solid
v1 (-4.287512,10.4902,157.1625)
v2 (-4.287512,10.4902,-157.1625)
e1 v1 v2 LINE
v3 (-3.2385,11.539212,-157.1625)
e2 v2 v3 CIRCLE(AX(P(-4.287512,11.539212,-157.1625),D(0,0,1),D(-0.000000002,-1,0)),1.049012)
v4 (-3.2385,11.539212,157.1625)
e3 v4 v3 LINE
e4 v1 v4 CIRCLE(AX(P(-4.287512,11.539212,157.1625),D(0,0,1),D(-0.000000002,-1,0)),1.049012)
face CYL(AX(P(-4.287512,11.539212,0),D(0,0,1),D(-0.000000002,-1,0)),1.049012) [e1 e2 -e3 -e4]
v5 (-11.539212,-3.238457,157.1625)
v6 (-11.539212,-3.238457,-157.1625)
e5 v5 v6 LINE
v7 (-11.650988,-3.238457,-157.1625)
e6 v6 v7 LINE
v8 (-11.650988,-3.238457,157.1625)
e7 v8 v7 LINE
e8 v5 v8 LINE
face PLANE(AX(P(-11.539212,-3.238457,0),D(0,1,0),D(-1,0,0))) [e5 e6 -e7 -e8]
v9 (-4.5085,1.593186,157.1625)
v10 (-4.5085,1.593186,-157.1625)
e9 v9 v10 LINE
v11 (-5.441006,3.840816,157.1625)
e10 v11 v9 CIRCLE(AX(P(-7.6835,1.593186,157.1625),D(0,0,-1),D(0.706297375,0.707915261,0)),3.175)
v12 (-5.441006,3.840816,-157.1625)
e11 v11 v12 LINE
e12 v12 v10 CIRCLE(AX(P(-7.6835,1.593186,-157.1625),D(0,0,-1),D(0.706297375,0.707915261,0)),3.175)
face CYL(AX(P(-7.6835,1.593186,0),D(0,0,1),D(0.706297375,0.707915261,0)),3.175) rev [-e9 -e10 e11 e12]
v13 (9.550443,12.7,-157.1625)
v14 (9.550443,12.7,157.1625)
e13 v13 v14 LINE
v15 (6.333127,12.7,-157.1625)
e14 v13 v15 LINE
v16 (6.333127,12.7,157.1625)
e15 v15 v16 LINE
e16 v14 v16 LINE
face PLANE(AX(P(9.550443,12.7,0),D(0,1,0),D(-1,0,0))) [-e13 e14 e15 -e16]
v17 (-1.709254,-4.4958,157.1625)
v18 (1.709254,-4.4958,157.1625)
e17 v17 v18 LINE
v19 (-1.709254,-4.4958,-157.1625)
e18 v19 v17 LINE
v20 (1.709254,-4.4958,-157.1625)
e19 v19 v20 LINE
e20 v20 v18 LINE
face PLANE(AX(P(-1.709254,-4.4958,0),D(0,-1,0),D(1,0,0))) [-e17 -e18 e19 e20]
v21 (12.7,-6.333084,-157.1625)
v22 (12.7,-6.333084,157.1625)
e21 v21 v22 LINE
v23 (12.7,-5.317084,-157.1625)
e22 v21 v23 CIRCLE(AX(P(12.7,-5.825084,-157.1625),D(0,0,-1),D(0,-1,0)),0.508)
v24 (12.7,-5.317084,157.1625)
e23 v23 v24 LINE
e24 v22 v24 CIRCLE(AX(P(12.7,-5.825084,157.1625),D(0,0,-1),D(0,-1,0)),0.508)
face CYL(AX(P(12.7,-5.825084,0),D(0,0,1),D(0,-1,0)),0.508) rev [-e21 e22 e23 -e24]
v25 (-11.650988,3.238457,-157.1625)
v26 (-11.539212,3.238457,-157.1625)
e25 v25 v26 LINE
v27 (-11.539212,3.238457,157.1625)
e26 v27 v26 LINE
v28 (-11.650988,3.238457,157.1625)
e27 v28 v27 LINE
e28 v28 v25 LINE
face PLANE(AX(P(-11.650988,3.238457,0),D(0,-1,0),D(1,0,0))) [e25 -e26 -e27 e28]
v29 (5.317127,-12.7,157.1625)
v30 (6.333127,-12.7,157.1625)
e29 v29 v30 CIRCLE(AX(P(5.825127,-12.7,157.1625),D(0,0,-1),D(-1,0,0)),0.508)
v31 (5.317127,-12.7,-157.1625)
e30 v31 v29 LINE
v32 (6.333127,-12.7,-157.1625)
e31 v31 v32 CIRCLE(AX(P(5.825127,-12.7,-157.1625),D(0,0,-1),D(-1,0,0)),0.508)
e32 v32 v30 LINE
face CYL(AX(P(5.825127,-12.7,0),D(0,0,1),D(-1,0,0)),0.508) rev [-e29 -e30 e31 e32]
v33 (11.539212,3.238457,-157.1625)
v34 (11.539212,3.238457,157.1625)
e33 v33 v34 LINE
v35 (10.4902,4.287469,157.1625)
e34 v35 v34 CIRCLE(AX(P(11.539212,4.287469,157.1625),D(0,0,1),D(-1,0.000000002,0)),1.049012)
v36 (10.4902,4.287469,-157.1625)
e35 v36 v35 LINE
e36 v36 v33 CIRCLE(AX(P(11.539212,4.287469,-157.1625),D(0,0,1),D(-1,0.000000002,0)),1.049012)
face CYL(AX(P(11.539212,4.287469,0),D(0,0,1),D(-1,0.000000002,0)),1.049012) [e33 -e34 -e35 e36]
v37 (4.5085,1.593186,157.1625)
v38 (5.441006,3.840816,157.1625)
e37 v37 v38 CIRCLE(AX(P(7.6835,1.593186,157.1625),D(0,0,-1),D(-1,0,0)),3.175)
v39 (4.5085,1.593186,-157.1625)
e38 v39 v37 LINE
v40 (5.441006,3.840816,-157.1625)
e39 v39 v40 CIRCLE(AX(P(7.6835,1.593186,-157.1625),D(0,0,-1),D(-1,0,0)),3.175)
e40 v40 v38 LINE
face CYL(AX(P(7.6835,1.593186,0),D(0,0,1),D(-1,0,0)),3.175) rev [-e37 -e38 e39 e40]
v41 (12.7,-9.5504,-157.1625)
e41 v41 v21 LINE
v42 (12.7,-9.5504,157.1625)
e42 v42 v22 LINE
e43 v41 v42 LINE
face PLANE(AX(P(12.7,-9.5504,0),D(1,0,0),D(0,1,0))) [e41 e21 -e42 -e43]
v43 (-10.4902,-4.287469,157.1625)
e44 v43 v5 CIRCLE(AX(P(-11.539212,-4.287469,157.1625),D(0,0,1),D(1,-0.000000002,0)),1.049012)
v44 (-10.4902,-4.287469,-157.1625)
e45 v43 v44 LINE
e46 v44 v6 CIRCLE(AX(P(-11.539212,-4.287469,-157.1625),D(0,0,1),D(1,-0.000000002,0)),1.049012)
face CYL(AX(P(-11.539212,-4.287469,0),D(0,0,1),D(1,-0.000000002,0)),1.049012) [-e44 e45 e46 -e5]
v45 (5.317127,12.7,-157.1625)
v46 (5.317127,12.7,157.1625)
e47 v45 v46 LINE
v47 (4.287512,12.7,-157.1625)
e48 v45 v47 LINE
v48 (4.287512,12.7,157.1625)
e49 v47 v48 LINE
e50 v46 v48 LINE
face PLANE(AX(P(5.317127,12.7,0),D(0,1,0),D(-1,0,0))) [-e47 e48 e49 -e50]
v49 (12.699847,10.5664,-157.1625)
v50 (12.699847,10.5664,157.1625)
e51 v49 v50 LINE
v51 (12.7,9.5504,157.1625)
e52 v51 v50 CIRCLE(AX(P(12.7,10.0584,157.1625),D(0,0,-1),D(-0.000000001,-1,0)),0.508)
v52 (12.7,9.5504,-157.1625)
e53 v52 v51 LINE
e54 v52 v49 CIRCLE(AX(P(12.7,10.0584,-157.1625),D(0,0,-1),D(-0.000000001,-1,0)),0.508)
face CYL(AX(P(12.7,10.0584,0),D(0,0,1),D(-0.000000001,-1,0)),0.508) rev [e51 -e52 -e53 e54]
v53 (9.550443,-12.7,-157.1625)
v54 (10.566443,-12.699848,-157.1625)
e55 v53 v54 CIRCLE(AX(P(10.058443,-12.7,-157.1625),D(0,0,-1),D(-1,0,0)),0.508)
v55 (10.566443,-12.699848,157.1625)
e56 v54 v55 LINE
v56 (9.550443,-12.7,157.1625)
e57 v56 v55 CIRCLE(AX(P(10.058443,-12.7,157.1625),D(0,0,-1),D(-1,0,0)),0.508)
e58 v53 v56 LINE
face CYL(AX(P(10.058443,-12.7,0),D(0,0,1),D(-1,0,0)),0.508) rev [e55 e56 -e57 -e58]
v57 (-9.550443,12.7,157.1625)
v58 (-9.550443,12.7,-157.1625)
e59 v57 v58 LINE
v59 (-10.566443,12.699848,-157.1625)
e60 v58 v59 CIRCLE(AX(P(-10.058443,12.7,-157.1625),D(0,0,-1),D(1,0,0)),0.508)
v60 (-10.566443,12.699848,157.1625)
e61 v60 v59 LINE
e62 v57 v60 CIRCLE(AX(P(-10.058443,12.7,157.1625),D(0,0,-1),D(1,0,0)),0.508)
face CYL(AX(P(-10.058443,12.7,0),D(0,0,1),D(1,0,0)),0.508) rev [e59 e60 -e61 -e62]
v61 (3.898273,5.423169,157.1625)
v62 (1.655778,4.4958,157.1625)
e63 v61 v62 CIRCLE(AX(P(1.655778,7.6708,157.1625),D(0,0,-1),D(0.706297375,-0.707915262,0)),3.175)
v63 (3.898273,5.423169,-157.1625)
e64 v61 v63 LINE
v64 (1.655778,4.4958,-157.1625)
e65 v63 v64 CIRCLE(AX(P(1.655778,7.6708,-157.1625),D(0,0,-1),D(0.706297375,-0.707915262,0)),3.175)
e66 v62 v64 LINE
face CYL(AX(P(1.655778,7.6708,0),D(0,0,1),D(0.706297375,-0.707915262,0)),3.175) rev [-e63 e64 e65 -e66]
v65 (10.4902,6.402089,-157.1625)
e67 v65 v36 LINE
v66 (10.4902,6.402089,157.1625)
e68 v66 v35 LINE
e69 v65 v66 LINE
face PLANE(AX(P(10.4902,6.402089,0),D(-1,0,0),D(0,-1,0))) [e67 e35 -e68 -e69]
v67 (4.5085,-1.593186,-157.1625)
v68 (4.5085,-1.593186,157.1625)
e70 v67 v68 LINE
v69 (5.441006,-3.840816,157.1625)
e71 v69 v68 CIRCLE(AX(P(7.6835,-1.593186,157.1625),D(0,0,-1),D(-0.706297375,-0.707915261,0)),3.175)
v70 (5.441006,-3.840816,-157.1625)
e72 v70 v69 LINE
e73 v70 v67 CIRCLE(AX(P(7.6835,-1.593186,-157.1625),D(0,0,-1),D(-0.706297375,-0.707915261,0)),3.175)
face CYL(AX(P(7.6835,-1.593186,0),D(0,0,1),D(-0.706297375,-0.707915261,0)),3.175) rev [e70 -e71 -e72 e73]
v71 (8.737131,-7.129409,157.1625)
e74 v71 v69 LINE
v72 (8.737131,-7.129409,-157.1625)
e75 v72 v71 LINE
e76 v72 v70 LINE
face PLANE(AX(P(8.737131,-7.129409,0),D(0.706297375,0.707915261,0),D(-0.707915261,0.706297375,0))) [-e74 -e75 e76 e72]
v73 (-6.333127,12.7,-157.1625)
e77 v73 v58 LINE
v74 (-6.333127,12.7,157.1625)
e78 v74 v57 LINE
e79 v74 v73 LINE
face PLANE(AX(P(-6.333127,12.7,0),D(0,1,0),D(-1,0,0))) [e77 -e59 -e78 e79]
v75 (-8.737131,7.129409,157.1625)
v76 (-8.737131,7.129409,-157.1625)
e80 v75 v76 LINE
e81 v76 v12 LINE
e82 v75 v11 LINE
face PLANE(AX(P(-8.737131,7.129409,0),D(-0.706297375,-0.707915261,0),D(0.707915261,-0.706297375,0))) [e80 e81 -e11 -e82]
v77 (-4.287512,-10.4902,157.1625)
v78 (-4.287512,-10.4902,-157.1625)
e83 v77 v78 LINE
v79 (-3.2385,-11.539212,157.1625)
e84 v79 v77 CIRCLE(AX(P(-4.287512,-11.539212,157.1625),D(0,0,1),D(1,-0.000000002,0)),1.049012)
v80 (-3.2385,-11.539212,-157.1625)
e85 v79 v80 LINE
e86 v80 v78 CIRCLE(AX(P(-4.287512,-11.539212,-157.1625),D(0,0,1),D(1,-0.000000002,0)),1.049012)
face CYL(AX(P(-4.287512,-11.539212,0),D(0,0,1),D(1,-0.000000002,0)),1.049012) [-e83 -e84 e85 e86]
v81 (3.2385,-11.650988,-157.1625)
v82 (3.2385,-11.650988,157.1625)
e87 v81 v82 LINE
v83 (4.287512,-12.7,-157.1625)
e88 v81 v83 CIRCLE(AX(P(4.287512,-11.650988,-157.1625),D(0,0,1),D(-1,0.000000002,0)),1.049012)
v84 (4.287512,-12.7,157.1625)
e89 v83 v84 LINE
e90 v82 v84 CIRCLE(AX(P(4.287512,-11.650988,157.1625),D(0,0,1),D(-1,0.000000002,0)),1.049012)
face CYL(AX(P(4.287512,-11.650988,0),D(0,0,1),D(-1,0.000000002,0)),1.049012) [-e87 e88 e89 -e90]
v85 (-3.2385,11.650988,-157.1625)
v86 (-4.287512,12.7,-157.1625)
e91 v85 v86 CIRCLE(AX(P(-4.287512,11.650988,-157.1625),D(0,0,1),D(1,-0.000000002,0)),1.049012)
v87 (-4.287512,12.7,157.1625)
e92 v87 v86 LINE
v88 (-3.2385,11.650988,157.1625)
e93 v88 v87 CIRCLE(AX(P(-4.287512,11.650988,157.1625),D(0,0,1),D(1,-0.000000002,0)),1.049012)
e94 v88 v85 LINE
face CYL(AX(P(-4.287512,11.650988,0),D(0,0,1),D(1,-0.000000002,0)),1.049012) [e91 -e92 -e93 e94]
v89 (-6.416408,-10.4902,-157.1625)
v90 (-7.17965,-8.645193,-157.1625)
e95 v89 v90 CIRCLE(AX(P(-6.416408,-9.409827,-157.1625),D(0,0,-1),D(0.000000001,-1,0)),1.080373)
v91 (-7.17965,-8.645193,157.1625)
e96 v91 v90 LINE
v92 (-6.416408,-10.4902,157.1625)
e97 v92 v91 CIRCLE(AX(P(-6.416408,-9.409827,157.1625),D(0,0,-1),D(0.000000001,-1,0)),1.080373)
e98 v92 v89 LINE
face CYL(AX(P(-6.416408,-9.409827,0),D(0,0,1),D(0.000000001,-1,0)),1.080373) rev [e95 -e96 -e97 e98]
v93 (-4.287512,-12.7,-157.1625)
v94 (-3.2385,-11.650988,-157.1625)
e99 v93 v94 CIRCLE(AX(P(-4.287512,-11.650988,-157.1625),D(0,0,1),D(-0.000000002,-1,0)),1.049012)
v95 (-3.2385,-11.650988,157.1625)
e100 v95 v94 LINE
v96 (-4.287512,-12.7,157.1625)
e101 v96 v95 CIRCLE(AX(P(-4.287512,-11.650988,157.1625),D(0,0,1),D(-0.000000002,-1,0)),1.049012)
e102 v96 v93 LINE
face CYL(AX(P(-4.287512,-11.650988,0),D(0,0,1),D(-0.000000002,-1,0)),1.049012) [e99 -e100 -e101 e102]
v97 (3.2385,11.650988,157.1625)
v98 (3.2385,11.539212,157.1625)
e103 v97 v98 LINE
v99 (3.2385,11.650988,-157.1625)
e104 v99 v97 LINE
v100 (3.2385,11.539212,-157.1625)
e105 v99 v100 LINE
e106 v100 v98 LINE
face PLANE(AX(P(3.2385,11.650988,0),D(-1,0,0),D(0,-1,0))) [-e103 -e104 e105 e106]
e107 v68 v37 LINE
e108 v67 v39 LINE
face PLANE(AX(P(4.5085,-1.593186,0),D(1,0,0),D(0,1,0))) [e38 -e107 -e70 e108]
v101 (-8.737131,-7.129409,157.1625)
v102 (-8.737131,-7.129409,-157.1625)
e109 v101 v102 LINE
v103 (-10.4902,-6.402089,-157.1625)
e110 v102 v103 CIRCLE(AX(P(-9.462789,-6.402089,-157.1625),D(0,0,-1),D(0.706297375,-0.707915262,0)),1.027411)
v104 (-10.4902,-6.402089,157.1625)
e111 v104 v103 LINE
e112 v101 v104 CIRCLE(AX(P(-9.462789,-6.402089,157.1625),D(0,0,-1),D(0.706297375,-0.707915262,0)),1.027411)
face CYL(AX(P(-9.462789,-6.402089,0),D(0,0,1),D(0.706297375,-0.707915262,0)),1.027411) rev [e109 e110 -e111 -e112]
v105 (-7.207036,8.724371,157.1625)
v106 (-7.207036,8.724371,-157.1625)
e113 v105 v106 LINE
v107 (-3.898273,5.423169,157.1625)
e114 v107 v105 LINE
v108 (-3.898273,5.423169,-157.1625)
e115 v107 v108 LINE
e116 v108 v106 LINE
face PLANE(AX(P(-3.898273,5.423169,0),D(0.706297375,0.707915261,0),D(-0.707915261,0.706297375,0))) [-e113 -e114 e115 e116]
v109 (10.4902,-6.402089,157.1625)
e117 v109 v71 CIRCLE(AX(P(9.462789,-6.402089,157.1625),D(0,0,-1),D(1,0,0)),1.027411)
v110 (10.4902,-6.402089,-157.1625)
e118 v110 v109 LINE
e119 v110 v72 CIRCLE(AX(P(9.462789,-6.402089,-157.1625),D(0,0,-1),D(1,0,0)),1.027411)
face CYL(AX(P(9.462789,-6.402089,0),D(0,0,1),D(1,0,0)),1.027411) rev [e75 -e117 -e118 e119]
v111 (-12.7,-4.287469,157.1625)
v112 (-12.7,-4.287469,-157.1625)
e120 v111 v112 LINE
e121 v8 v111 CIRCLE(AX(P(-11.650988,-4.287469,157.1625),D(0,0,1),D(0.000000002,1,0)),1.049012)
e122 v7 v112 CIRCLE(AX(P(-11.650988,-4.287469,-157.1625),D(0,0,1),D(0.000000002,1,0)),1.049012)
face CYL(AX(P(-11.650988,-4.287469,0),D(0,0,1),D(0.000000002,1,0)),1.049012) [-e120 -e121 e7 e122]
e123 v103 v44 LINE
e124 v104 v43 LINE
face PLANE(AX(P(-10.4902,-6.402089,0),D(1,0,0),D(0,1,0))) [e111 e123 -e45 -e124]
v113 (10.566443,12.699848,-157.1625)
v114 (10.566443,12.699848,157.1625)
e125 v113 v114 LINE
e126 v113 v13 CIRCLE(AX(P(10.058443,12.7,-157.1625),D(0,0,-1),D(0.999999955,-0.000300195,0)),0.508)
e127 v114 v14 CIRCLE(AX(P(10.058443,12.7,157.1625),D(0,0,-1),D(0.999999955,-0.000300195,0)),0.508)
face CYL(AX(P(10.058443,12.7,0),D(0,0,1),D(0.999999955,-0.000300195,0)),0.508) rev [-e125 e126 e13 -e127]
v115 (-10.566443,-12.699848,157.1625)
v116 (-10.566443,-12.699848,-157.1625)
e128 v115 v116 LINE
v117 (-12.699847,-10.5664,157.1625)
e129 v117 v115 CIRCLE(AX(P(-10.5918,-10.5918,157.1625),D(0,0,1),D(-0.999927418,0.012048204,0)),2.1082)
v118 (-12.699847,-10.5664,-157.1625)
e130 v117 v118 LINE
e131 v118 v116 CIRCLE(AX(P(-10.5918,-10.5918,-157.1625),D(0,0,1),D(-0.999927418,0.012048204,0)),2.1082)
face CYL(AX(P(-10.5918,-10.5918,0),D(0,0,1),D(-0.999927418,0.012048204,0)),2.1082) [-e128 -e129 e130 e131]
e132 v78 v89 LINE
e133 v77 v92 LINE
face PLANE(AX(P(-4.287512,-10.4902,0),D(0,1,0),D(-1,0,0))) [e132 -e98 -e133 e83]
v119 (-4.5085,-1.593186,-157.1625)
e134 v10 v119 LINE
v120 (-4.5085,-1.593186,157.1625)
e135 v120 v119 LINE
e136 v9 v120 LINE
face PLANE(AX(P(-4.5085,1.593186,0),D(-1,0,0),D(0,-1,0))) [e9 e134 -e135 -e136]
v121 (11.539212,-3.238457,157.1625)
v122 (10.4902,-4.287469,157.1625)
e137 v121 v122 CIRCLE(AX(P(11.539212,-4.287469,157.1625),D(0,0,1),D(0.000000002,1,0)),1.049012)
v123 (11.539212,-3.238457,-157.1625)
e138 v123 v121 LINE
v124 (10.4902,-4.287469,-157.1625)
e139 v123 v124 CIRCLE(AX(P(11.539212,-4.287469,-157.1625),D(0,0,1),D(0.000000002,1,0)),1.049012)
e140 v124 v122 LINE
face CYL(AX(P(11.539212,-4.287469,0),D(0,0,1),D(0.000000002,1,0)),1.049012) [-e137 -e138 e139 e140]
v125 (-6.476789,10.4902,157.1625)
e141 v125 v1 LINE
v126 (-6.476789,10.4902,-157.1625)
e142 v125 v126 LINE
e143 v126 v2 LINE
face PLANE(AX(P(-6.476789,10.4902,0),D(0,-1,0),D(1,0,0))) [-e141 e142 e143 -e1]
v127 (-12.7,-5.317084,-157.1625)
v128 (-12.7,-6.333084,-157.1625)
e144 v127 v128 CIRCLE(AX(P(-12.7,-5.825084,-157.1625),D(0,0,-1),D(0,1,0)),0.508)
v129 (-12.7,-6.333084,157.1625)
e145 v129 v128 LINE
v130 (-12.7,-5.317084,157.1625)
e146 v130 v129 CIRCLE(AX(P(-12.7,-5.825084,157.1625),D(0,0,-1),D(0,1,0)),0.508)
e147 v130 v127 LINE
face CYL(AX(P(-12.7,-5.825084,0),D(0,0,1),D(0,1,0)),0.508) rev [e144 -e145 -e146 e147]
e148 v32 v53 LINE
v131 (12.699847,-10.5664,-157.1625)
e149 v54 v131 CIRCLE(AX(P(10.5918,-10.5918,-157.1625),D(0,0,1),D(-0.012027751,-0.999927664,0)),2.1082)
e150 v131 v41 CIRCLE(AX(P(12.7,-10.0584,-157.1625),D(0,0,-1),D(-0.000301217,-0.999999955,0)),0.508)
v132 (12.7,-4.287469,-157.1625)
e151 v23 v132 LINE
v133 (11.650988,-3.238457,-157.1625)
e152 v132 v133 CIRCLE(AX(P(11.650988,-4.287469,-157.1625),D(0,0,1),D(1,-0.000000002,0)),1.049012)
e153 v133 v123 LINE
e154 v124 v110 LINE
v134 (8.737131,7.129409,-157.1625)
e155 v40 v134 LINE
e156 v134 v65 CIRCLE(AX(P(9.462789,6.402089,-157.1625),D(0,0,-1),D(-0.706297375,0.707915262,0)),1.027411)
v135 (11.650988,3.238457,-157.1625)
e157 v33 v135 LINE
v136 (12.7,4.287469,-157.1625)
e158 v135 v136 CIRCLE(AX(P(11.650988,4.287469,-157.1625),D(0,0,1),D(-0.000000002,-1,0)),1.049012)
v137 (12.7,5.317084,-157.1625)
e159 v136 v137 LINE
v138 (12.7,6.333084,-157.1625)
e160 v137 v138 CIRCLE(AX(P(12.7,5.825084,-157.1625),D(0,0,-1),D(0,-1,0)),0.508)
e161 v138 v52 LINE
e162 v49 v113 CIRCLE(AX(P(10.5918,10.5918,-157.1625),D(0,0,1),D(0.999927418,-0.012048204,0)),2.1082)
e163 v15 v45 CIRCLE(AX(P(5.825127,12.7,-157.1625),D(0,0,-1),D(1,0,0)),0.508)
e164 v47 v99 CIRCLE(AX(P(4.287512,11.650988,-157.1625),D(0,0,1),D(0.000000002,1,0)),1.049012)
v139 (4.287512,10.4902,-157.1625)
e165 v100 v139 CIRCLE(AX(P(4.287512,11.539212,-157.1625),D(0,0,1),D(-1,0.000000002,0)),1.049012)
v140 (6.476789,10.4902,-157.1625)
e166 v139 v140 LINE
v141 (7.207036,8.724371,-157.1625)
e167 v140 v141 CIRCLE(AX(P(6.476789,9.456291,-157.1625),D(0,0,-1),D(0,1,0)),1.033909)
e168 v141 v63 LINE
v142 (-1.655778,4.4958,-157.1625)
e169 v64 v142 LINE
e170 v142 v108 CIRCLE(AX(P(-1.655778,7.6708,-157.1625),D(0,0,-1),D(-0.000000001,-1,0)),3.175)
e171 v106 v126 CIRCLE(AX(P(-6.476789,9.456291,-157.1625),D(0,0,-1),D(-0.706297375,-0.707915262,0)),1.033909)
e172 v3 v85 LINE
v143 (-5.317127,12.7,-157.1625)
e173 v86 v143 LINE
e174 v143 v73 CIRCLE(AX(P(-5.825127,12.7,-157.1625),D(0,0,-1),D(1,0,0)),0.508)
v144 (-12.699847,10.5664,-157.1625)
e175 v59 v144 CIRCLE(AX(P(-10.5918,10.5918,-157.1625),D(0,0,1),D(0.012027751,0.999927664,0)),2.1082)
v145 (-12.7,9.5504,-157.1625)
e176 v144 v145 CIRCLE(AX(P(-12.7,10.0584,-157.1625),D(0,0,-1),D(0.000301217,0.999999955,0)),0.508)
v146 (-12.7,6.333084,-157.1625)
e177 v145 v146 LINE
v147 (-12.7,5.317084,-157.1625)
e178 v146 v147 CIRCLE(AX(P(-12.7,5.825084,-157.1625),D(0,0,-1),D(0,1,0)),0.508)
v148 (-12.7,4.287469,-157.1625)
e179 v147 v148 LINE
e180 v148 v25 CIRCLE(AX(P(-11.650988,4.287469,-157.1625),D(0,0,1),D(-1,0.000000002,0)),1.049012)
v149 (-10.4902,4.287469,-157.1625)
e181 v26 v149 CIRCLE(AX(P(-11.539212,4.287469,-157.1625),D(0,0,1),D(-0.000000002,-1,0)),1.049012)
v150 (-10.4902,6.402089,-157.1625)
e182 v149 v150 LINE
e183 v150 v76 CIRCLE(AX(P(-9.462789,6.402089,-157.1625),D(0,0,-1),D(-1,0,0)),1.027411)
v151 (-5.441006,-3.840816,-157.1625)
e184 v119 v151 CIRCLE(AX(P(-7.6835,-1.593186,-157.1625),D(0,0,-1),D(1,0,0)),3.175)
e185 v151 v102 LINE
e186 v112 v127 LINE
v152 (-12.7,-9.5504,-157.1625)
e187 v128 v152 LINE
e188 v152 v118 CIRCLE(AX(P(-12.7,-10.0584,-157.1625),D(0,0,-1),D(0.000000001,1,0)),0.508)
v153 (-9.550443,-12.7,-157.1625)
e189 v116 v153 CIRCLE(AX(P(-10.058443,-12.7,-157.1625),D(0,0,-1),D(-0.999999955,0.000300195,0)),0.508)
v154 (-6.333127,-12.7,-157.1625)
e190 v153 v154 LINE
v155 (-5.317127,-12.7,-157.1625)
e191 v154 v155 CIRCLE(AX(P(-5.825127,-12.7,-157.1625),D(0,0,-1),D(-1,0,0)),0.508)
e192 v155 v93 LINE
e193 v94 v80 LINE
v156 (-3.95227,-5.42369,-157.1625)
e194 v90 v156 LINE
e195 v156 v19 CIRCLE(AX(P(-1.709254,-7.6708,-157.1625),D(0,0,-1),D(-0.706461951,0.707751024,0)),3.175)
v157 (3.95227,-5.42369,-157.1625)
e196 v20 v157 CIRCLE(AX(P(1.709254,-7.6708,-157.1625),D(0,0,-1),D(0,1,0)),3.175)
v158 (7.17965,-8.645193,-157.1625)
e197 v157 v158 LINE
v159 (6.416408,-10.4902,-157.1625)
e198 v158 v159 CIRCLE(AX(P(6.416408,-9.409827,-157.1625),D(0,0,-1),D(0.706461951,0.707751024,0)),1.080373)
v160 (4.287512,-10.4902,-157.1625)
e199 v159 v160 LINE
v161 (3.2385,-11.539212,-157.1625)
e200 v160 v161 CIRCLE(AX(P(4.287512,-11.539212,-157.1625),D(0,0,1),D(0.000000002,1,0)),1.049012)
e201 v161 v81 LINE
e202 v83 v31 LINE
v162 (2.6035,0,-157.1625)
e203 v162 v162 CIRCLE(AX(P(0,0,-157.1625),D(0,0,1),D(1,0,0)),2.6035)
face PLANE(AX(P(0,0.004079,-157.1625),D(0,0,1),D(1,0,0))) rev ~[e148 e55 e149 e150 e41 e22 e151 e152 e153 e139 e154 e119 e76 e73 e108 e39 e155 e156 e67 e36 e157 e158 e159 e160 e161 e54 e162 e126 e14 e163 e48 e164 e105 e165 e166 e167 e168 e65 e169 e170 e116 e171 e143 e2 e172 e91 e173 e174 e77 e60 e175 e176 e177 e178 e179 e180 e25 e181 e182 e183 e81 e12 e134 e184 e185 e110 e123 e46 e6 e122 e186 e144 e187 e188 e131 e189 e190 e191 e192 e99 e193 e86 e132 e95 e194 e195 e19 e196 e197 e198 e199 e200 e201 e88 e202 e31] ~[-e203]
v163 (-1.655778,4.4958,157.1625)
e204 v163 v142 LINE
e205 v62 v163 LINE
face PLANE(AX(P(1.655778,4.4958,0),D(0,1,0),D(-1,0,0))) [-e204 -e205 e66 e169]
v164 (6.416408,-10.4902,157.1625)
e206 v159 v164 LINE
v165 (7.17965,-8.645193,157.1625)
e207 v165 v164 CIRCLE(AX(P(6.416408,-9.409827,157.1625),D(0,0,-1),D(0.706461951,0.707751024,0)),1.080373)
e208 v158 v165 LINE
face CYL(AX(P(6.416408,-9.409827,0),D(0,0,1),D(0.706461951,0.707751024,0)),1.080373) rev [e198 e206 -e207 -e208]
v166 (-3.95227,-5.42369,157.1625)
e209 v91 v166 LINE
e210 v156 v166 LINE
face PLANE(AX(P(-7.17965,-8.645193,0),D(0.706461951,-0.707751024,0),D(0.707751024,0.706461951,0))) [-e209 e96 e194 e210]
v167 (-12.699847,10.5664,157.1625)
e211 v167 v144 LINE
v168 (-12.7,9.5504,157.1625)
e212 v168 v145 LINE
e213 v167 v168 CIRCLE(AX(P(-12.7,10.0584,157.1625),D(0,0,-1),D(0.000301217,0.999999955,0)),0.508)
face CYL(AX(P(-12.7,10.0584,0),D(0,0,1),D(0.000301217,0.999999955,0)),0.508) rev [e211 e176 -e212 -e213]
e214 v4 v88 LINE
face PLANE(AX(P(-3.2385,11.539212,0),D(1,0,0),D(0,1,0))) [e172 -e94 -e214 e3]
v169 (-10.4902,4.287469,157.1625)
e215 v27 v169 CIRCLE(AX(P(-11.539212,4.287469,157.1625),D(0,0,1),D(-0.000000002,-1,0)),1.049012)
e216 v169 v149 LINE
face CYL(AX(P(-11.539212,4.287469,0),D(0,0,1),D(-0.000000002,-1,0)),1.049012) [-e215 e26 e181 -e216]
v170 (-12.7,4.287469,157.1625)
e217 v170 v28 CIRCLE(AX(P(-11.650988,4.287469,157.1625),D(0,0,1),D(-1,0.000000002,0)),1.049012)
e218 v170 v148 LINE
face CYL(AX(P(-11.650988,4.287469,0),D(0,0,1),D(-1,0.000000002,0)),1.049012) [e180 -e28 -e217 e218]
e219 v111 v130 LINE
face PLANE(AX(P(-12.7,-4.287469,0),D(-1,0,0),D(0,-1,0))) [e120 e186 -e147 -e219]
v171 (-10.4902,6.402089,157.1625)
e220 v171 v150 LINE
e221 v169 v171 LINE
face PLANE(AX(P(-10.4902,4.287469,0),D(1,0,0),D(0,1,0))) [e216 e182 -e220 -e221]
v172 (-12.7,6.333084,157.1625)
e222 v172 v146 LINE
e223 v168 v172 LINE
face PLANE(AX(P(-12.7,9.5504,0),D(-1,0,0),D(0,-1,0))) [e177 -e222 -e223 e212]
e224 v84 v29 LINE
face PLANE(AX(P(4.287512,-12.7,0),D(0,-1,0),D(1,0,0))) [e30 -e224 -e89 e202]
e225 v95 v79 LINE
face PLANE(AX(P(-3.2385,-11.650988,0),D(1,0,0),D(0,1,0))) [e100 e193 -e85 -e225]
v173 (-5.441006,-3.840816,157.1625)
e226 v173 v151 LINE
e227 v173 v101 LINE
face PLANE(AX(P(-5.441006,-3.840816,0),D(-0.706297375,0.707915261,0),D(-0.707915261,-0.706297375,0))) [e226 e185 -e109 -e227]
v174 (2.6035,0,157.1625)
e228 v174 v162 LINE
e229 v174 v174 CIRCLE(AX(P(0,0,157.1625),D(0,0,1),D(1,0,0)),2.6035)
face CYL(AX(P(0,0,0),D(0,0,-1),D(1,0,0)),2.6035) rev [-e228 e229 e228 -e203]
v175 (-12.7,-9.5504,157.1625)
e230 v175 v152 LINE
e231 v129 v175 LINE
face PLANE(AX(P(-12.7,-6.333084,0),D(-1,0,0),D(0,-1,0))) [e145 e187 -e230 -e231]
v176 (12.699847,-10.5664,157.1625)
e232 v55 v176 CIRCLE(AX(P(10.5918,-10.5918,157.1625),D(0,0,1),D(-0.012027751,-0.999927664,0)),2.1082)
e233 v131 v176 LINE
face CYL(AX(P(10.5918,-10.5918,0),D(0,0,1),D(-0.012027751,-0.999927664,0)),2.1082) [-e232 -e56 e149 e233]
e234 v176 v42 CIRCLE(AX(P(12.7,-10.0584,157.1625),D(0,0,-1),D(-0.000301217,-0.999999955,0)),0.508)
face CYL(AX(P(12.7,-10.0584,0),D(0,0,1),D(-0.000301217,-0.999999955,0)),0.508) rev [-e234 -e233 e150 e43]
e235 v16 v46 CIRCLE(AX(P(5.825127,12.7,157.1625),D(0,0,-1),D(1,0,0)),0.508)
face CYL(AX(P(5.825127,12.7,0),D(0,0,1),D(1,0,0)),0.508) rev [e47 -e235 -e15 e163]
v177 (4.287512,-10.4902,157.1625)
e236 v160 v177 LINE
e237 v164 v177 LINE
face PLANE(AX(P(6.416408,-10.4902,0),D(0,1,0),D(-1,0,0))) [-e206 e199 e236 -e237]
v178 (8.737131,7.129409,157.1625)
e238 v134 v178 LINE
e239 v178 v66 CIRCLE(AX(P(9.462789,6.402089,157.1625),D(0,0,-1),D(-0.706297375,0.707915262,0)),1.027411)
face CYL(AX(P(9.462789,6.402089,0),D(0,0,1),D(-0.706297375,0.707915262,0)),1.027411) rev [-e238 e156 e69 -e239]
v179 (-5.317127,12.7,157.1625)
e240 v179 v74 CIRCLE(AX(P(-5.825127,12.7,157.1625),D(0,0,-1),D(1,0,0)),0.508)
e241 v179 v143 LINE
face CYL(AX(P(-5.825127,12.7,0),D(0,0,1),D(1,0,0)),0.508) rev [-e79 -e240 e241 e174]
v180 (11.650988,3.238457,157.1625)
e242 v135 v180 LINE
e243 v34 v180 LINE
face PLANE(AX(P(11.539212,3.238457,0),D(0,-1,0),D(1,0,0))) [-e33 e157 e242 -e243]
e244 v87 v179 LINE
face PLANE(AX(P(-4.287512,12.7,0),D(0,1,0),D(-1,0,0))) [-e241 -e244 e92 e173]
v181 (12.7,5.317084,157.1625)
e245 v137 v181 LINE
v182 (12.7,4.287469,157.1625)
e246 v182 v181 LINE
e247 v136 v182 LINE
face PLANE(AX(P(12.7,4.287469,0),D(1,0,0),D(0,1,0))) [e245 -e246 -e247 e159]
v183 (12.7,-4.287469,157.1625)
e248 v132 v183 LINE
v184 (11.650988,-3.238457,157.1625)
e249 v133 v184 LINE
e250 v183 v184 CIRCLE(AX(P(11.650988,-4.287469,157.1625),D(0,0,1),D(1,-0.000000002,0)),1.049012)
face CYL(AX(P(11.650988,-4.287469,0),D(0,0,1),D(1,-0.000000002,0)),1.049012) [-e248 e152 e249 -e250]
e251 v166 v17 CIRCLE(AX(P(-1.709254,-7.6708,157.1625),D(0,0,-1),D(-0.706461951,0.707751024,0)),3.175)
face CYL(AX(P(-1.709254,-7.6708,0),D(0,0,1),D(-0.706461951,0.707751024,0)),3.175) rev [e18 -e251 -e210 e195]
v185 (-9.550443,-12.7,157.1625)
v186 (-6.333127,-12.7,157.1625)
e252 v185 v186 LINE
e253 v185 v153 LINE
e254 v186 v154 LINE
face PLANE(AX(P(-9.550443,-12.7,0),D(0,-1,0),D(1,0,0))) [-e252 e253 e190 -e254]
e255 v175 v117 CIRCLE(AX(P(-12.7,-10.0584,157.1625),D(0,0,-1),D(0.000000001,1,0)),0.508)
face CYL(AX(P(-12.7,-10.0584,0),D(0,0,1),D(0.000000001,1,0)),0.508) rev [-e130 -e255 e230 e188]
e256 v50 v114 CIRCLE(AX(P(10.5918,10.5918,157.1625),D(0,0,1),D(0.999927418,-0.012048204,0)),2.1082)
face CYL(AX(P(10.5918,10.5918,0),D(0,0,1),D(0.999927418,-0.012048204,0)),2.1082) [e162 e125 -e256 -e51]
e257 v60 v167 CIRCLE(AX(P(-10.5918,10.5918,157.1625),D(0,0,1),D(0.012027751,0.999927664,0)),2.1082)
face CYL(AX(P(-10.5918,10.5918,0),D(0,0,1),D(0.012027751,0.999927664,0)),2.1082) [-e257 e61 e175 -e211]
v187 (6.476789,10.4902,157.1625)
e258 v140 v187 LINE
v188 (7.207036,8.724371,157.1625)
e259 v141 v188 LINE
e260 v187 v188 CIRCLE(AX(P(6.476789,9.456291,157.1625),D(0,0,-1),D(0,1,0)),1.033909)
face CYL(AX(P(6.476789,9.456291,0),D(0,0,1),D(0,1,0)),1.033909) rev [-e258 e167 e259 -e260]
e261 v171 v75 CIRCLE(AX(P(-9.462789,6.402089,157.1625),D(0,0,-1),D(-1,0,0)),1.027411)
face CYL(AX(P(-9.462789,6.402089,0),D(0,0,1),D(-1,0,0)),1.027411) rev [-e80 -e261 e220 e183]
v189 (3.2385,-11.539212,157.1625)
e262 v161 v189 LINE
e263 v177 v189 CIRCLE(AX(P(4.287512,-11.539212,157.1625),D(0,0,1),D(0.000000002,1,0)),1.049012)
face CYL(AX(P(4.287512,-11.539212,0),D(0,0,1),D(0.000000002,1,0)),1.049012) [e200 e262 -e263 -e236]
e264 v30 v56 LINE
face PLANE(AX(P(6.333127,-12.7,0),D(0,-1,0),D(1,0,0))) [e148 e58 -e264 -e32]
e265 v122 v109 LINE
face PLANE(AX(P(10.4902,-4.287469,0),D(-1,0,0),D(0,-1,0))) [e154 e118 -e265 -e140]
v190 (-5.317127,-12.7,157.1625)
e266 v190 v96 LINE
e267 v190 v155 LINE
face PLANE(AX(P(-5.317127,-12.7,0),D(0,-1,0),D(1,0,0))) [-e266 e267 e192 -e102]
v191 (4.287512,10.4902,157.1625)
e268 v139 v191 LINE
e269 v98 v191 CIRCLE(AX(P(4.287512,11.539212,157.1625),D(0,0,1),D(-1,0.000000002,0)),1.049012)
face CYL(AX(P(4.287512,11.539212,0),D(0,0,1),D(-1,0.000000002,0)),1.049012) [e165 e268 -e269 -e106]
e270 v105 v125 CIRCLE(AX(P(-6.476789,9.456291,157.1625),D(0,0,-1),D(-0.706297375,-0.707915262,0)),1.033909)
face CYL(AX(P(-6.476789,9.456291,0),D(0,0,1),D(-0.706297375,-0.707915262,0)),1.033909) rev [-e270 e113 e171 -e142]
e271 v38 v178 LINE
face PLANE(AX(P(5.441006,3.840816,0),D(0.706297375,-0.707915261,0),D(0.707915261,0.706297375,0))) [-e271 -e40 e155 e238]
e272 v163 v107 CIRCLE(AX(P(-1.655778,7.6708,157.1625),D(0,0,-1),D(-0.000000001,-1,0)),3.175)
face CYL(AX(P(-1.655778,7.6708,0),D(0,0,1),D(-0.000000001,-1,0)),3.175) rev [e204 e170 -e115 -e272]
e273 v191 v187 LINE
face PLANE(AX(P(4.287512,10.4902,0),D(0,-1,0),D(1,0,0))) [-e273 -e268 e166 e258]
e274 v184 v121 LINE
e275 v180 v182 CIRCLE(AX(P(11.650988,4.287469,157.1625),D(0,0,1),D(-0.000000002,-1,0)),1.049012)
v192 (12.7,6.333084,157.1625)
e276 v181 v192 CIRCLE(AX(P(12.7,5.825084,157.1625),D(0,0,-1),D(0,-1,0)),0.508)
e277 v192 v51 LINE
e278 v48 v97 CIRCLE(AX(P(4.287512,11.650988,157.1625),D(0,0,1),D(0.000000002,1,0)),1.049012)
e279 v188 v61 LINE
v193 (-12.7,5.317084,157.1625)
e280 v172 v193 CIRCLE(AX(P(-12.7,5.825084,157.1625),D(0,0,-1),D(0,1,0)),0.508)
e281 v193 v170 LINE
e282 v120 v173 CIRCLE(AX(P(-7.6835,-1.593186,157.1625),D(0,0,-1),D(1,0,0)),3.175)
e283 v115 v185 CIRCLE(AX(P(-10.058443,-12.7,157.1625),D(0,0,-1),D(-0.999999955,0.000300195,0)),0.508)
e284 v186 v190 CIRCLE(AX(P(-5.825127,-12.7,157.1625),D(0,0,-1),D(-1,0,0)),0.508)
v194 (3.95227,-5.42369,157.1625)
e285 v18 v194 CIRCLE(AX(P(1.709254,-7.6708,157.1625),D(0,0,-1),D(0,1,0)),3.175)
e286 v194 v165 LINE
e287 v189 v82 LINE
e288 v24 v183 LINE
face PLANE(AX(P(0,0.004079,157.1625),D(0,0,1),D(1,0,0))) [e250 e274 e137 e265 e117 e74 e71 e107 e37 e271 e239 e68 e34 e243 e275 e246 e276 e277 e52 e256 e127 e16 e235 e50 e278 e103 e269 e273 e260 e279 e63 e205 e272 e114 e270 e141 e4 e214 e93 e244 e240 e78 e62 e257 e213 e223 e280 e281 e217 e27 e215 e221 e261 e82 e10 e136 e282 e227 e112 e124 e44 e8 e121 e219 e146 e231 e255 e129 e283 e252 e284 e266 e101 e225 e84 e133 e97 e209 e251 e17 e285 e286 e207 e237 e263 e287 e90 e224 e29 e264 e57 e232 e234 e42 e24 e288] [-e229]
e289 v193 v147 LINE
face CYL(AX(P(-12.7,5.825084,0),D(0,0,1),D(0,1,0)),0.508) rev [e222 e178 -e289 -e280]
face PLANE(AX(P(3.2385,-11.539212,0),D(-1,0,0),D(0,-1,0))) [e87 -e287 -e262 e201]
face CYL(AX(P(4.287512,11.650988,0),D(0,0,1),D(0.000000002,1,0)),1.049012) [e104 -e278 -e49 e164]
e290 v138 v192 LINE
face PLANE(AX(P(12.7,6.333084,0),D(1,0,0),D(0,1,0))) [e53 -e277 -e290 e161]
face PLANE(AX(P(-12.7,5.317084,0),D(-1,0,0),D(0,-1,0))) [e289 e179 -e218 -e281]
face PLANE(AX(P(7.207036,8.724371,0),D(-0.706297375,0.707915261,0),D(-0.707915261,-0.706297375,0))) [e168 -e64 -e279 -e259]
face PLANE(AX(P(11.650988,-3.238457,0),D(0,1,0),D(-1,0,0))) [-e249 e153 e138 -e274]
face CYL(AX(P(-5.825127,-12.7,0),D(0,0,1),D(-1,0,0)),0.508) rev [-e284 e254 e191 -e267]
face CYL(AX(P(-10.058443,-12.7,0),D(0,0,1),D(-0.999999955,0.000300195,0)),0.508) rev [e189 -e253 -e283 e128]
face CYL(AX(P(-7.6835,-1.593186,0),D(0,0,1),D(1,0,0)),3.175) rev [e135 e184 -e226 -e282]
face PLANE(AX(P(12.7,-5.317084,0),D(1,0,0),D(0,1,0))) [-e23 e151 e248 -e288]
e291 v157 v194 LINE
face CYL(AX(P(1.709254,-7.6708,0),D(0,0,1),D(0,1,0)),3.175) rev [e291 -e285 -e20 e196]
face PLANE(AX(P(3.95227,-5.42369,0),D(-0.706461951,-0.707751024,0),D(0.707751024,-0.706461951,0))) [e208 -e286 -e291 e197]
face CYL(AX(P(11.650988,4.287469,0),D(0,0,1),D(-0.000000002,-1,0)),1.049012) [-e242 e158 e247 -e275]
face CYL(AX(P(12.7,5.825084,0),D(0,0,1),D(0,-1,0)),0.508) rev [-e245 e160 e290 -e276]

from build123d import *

# Parameters (mm, degrees)
SKETCH1_R           = 2.6035
BOSS_EXTRUDE1_DEPTH = 157.1625


with BuildPart() as part:
    # Sketch1 → Boss-Extrude1 (new, symmetric)
    with BuildSketch(Plane.XY):
        with BuildLine():
            Line((-7.179650497, -8.645192506), (-3.952270251, -5.423690499))
            ThreePointArc((-3.952270251, -5.423690499), (-2.922936451, -4.736929036), (-1.709253557, -4.4958))
            Line((-1.709253557, -4.4958), (1.709253557, -4.4958))
            ThreePointArc((1.709253557, -4.4958), (2.922936451, -4.736929036), (3.952270251, -5.423690499))
            Line((3.952270251, -5.423690499), (7.179650497, -8.645192506))
            ThreePointArc((7.179650497, -8.645192506), (7.41473083, -9.822813117), (6.416408329, -10.4902))
            Line((6.416408329, -10.4902), (4.287512407, -10.4902))
            ThreePointArc((4.287512407, -10.4902), (3.54574862, -10.79744862), (3.2385, -11.539212407))
            Line((3.2385, -11.539212407), (3.2385, -11.650987593))
            ThreePointArc((3.2385, -11.650987593), (3.54574862, -12.39275138), (4.287512407, -12.7))
            Line((4.287512407, -12.7), (5.317126718, -12.7))
            ThreePointArc((5.317126718, -12.7), (5.825126718, -12.192), (6.333126718, -12.7))
            Line((6.333126718, -12.7), (9.550443118, -12.7))
            ThreePointArc((9.550443118, -12.7), (10.058366869, -12.192000006), (10.566443095, -12.699847501))
            ThreePointArc((10.566443095, -12.699847501), (12.082537762, -12.08250727), (12.699846982, -10.566399977))
            ThreePointArc((12.699846982, -10.566399977), (12.192000006, -10.058323491), (12.7, -9.5504))
            Line((12.7, -9.5504), (12.7, -6.3330836))
            ThreePointArc((12.7, -6.3330836), (12.192, -5.8250836), (12.7, -5.3170836))
            Line((12.7, -5.3170836), (12.7, -4.287469289))
            ThreePointArc((12.7, -4.287469289), (12.39275138, -3.545705502), (11.650987593, -3.238456882))
            Line((11.650987593, -3.238456882), (11.539212407, -3.238456882))
            ThreePointArc((11.539212407, -3.238456882), (10.79744862, -3.545705502), (10.4902, -4.287469289))
            Line((10.4902, -4.287469289), (10.4902, -6.402089023))
            ThreePointArc((10.4902, -6.402089023), (9.856505071, -7.351067942), (8.737131347, -7.129408934))
            Line((8.737131347, -7.129408934), (5.441005833, -3.840816462))
            ThreePointArc((5.441005833, -3.840816462), (4.750877967, -2.809883091), (4.5085, -1.593185507))
            Line((4.5085, -1.593185507), (4.5085, 1.593185507))
            ThreePointArc((4.5085, 1.593185507), (4.750877967, 2.809883091), (5.441005833, 3.840816462))
            Line((5.441005833, 3.840816462), (8.737131347, 7.129408934))
            ThreePointArc((8.737131347, 7.129408934), (9.856505071, 7.351067942), (10.4902, 6.402089023))
            Line((10.4902, 6.402089023), (10.4902, 4.287469289))
            ThreePointArc((10.4902, 4.287469289), (10.79744862, 3.545705502), (11.539212407, 3.238456882))
            Line((11.539212407, 3.238456882), (11.650987593, 3.238456882))
            ThreePointArc((11.650987593, 3.238456882), (12.39275138, 3.545705502), (12.7, 4.287469289))
            Line((12.7, 4.287469289), (12.7, 5.3170836))
            ThreePointArc((12.7, 5.3170836), (12.192, 5.8250836), (12.7, 6.3330836))
            Line((12.7, 6.3330836), (12.7, 9.5504))
            ThreePointArc((12.7, 9.5504), (12.192000006, 10.058323491), (12.699846982, 10.566399977))
            ThreePointArc((12.699846982, 10.566399977), (12.082537762, 12.08250727), (10.566443095, 12.699847501))
            ThreePointArc((10.566443095, 12.699847501), (10.058366869, 12.192000006), (9.550443118, 12.7))
            Line((9.550443118, 12.7), (6.333126718, 12.7))
            ThreePointArc((6.333126718, 12.7), (5.825126718, 12.192), (5.317126718, 12.7))
            Line((5.317126718, 12.7), (4.287512407, 12.7))
            ThreePointArc((4.287512407, 12.7), (3.54574862, 12.39275138), (3.2385, 11.650987593))
            Line((3.2385, 11.650987593), (3.2385, 11.539212407))
            ThreePointArc((3.2385, 11.539212407), (3.54574862, 10.79744862), (4.287512407, 10.4902))
            Line((4.287512407, 10.4902), (6.476788598, 10.4902))
            ThreePointArc((6.476788598, 10.4902), (7.432222385, 9.85140422), (7.207036008, 8.724370562))
            Line((7.207036008, 8.724370562), (3.898272566, 5.423169045))
            ThreePointArc((3.898272566, 5.423169045), (2.869120213, 4.736787962), (1.655778399, 4.4958))
            Line((1.655778399, 4.4958), (-1.655778399, 4.4958))
            ThreePointArc((-1.655778399, 4.4958), (-2.869120213, 4.736787962), (-3.898272566, 5.423169045))
            Line((-3.898272566, 5.423169045), (-7.207036008, 8.724370562))
            ThreePointArc((-7.207036008, 8.724370562), (-7.432222385, 9.85140422), (-6.476788598, 10.4902))
            Line((-6.476788598, 10.4902), (-4.287512407, 10.4902))
            ThreePointArc((-4.287512407, 10.4902), (-3.54574862, 10.79744862), (-3.2385, 11.539212407))
            Line((-3.2385, 11.539212407), (-3.2385, 11.650987593))
            ThreePointArc((-3.2385, 11.650987593), (-3.54574862, 12.39275138), (-4.287512407, 12.7))
            Line((-4.287512407, 12.7), (-5.317126718, 12.7))
            ThreePointArc((-5.317126718, 12.7), (-5.825126718, 12.192), (-6.333126718, 12.7))
            Line((-6.333126718, 12.7), (-9.550443118, 12.7))
            ThreePointArc((-9.550443118, 12.7), (-10.058366869, 12.192000006), (-10.566443095, 12.699847501))
            ThreePointArc((-10.566443095, 12.699847501), (-12.082537762, 12.08250727), (-12.699846982, 10.566399977))
            ThreePointArc((-12.699846982, 10.566399977), (-12.192000006, 10.058323491), (-12.7, 9.5504))
            Line((-12.7, 9.5504), (-12.7, 6.3330836))
            ThreePointArc((-12.7, 6.3330836), (-12.192, 5.8250836), (-12.7, 5.3170836))
            Line((-12.7, 5.3170836), (-12.7, 4.287469289))
            ThreePointArc((-12.7, 4.287469289), (-12.39275138, 3.545705502), (-11.650987593, 3.238456882))
            Line((-11.650987593, 3.238456882), (-11.539212407, 3.238456882))
            ThreePointArc((-11.539212407, 3.238456882), (-10.79744862, 3.545705502), (-10.4902, 4.287469289))
            Line((-10.4902, 4.287469289), (-10.4902, 6.402089023))
            ThreePointArc((-10.4902, 6.402089023), (-9.856505071, 7.351067942), (-8.737131347, 7.129408934))
            Line((-8.737131347, 7.129408934), (-5.441005833, 3.840816462))
            ThreePointArc((-5.441005833, 3.840816462), (-4.750877967, 2.809883091), (-4.5085, 1.593185507))
            Line((-4.5085, 1.593185507), (-4.5085, -1.593185507))
            ThreePointArc((-4.5085, -1.593185507), (-4.750877967, -2.809883091), (-5.441005833, -3.840816462))
            Line((-5.441005833, -3.840816462), (-8.737131347, -7.129408934))
            ThreePointArc((-8.737131347, -7.129408934), (-9.856505071, -7.351067942), (-10.4902, -6.402089023))
            Line((-10.4902, -6.402089023), (-10.4902, -4.287469289))
            ThreePointArc((-10.4902, -4.287469289), (-10.79744862, -3.545705502), (-11.539212407, -3.238456882))
            Line((-11.539212407, -3.238456882), (-11.650987593, -3.238456882))
            ThreePointArc((-11.650987593, -3.238456882), (-12.39275138, -3.545705502), (-12.7, -4.287469289))
            Line((-12.7, -4.287469289), (-12.7, -5.3170836))
            ThreePointArc((-12.7, -5.3170836), (-12.192, -5.8250836), (-12.7, -6.3330836))
            Line((-12.7, -6.3330836), (-12.7, -9.5504))
            ThreePointArc((-12.7, -9.5504), (-12.192000006, -10.058323491), (-12.699846982, -10.566399977))
            ThreePointArc((-12.699846982, -10.566399977), (-12.082537762, -12.08250727), (-10.566443095, -12.699847501))
            ThreePointArc((-10.566443095, -12.699847501), (-10.058366869, -12.192000006), (-9.550443118, -12.7))
            Line((-9.550443118, -12.7), (-6.333126718, -12.7))
            ThreePointArc((-6.333126718, -12.7), (-5.825126718, -12.192), (-5.317126718, -12.7))
            Line((-5.317126718, -12.7), (-4.287512407, -12.7))
            ThreePointArc((-4.287512407, -12.7), (-3.54574862, -12.39275138), (-3.2385, -11.650987593))
            Line((-3.2385, -11.650987593), (-3.2385, -11.539212407))
            ThreePointArc((-3.2385, -11.539212407), (-3.54574862, -10.79744862), (-4.287512407, -10.4902))
            Line((-4.287512407, -10.4902), (-6.416408329, -10.4902))
            ThreePointArc((-6.416408329, -10.4902), (-7.41473083, -9.822813117), (-7.179650497, -8.645192506))
        make_face()
        Circle(SKETCH1_R, mode=Mode.SUBTRACT)
    extrude(amount=BOSS_EXTRUDE1_DEPTH, both=True)


solid = part.part
